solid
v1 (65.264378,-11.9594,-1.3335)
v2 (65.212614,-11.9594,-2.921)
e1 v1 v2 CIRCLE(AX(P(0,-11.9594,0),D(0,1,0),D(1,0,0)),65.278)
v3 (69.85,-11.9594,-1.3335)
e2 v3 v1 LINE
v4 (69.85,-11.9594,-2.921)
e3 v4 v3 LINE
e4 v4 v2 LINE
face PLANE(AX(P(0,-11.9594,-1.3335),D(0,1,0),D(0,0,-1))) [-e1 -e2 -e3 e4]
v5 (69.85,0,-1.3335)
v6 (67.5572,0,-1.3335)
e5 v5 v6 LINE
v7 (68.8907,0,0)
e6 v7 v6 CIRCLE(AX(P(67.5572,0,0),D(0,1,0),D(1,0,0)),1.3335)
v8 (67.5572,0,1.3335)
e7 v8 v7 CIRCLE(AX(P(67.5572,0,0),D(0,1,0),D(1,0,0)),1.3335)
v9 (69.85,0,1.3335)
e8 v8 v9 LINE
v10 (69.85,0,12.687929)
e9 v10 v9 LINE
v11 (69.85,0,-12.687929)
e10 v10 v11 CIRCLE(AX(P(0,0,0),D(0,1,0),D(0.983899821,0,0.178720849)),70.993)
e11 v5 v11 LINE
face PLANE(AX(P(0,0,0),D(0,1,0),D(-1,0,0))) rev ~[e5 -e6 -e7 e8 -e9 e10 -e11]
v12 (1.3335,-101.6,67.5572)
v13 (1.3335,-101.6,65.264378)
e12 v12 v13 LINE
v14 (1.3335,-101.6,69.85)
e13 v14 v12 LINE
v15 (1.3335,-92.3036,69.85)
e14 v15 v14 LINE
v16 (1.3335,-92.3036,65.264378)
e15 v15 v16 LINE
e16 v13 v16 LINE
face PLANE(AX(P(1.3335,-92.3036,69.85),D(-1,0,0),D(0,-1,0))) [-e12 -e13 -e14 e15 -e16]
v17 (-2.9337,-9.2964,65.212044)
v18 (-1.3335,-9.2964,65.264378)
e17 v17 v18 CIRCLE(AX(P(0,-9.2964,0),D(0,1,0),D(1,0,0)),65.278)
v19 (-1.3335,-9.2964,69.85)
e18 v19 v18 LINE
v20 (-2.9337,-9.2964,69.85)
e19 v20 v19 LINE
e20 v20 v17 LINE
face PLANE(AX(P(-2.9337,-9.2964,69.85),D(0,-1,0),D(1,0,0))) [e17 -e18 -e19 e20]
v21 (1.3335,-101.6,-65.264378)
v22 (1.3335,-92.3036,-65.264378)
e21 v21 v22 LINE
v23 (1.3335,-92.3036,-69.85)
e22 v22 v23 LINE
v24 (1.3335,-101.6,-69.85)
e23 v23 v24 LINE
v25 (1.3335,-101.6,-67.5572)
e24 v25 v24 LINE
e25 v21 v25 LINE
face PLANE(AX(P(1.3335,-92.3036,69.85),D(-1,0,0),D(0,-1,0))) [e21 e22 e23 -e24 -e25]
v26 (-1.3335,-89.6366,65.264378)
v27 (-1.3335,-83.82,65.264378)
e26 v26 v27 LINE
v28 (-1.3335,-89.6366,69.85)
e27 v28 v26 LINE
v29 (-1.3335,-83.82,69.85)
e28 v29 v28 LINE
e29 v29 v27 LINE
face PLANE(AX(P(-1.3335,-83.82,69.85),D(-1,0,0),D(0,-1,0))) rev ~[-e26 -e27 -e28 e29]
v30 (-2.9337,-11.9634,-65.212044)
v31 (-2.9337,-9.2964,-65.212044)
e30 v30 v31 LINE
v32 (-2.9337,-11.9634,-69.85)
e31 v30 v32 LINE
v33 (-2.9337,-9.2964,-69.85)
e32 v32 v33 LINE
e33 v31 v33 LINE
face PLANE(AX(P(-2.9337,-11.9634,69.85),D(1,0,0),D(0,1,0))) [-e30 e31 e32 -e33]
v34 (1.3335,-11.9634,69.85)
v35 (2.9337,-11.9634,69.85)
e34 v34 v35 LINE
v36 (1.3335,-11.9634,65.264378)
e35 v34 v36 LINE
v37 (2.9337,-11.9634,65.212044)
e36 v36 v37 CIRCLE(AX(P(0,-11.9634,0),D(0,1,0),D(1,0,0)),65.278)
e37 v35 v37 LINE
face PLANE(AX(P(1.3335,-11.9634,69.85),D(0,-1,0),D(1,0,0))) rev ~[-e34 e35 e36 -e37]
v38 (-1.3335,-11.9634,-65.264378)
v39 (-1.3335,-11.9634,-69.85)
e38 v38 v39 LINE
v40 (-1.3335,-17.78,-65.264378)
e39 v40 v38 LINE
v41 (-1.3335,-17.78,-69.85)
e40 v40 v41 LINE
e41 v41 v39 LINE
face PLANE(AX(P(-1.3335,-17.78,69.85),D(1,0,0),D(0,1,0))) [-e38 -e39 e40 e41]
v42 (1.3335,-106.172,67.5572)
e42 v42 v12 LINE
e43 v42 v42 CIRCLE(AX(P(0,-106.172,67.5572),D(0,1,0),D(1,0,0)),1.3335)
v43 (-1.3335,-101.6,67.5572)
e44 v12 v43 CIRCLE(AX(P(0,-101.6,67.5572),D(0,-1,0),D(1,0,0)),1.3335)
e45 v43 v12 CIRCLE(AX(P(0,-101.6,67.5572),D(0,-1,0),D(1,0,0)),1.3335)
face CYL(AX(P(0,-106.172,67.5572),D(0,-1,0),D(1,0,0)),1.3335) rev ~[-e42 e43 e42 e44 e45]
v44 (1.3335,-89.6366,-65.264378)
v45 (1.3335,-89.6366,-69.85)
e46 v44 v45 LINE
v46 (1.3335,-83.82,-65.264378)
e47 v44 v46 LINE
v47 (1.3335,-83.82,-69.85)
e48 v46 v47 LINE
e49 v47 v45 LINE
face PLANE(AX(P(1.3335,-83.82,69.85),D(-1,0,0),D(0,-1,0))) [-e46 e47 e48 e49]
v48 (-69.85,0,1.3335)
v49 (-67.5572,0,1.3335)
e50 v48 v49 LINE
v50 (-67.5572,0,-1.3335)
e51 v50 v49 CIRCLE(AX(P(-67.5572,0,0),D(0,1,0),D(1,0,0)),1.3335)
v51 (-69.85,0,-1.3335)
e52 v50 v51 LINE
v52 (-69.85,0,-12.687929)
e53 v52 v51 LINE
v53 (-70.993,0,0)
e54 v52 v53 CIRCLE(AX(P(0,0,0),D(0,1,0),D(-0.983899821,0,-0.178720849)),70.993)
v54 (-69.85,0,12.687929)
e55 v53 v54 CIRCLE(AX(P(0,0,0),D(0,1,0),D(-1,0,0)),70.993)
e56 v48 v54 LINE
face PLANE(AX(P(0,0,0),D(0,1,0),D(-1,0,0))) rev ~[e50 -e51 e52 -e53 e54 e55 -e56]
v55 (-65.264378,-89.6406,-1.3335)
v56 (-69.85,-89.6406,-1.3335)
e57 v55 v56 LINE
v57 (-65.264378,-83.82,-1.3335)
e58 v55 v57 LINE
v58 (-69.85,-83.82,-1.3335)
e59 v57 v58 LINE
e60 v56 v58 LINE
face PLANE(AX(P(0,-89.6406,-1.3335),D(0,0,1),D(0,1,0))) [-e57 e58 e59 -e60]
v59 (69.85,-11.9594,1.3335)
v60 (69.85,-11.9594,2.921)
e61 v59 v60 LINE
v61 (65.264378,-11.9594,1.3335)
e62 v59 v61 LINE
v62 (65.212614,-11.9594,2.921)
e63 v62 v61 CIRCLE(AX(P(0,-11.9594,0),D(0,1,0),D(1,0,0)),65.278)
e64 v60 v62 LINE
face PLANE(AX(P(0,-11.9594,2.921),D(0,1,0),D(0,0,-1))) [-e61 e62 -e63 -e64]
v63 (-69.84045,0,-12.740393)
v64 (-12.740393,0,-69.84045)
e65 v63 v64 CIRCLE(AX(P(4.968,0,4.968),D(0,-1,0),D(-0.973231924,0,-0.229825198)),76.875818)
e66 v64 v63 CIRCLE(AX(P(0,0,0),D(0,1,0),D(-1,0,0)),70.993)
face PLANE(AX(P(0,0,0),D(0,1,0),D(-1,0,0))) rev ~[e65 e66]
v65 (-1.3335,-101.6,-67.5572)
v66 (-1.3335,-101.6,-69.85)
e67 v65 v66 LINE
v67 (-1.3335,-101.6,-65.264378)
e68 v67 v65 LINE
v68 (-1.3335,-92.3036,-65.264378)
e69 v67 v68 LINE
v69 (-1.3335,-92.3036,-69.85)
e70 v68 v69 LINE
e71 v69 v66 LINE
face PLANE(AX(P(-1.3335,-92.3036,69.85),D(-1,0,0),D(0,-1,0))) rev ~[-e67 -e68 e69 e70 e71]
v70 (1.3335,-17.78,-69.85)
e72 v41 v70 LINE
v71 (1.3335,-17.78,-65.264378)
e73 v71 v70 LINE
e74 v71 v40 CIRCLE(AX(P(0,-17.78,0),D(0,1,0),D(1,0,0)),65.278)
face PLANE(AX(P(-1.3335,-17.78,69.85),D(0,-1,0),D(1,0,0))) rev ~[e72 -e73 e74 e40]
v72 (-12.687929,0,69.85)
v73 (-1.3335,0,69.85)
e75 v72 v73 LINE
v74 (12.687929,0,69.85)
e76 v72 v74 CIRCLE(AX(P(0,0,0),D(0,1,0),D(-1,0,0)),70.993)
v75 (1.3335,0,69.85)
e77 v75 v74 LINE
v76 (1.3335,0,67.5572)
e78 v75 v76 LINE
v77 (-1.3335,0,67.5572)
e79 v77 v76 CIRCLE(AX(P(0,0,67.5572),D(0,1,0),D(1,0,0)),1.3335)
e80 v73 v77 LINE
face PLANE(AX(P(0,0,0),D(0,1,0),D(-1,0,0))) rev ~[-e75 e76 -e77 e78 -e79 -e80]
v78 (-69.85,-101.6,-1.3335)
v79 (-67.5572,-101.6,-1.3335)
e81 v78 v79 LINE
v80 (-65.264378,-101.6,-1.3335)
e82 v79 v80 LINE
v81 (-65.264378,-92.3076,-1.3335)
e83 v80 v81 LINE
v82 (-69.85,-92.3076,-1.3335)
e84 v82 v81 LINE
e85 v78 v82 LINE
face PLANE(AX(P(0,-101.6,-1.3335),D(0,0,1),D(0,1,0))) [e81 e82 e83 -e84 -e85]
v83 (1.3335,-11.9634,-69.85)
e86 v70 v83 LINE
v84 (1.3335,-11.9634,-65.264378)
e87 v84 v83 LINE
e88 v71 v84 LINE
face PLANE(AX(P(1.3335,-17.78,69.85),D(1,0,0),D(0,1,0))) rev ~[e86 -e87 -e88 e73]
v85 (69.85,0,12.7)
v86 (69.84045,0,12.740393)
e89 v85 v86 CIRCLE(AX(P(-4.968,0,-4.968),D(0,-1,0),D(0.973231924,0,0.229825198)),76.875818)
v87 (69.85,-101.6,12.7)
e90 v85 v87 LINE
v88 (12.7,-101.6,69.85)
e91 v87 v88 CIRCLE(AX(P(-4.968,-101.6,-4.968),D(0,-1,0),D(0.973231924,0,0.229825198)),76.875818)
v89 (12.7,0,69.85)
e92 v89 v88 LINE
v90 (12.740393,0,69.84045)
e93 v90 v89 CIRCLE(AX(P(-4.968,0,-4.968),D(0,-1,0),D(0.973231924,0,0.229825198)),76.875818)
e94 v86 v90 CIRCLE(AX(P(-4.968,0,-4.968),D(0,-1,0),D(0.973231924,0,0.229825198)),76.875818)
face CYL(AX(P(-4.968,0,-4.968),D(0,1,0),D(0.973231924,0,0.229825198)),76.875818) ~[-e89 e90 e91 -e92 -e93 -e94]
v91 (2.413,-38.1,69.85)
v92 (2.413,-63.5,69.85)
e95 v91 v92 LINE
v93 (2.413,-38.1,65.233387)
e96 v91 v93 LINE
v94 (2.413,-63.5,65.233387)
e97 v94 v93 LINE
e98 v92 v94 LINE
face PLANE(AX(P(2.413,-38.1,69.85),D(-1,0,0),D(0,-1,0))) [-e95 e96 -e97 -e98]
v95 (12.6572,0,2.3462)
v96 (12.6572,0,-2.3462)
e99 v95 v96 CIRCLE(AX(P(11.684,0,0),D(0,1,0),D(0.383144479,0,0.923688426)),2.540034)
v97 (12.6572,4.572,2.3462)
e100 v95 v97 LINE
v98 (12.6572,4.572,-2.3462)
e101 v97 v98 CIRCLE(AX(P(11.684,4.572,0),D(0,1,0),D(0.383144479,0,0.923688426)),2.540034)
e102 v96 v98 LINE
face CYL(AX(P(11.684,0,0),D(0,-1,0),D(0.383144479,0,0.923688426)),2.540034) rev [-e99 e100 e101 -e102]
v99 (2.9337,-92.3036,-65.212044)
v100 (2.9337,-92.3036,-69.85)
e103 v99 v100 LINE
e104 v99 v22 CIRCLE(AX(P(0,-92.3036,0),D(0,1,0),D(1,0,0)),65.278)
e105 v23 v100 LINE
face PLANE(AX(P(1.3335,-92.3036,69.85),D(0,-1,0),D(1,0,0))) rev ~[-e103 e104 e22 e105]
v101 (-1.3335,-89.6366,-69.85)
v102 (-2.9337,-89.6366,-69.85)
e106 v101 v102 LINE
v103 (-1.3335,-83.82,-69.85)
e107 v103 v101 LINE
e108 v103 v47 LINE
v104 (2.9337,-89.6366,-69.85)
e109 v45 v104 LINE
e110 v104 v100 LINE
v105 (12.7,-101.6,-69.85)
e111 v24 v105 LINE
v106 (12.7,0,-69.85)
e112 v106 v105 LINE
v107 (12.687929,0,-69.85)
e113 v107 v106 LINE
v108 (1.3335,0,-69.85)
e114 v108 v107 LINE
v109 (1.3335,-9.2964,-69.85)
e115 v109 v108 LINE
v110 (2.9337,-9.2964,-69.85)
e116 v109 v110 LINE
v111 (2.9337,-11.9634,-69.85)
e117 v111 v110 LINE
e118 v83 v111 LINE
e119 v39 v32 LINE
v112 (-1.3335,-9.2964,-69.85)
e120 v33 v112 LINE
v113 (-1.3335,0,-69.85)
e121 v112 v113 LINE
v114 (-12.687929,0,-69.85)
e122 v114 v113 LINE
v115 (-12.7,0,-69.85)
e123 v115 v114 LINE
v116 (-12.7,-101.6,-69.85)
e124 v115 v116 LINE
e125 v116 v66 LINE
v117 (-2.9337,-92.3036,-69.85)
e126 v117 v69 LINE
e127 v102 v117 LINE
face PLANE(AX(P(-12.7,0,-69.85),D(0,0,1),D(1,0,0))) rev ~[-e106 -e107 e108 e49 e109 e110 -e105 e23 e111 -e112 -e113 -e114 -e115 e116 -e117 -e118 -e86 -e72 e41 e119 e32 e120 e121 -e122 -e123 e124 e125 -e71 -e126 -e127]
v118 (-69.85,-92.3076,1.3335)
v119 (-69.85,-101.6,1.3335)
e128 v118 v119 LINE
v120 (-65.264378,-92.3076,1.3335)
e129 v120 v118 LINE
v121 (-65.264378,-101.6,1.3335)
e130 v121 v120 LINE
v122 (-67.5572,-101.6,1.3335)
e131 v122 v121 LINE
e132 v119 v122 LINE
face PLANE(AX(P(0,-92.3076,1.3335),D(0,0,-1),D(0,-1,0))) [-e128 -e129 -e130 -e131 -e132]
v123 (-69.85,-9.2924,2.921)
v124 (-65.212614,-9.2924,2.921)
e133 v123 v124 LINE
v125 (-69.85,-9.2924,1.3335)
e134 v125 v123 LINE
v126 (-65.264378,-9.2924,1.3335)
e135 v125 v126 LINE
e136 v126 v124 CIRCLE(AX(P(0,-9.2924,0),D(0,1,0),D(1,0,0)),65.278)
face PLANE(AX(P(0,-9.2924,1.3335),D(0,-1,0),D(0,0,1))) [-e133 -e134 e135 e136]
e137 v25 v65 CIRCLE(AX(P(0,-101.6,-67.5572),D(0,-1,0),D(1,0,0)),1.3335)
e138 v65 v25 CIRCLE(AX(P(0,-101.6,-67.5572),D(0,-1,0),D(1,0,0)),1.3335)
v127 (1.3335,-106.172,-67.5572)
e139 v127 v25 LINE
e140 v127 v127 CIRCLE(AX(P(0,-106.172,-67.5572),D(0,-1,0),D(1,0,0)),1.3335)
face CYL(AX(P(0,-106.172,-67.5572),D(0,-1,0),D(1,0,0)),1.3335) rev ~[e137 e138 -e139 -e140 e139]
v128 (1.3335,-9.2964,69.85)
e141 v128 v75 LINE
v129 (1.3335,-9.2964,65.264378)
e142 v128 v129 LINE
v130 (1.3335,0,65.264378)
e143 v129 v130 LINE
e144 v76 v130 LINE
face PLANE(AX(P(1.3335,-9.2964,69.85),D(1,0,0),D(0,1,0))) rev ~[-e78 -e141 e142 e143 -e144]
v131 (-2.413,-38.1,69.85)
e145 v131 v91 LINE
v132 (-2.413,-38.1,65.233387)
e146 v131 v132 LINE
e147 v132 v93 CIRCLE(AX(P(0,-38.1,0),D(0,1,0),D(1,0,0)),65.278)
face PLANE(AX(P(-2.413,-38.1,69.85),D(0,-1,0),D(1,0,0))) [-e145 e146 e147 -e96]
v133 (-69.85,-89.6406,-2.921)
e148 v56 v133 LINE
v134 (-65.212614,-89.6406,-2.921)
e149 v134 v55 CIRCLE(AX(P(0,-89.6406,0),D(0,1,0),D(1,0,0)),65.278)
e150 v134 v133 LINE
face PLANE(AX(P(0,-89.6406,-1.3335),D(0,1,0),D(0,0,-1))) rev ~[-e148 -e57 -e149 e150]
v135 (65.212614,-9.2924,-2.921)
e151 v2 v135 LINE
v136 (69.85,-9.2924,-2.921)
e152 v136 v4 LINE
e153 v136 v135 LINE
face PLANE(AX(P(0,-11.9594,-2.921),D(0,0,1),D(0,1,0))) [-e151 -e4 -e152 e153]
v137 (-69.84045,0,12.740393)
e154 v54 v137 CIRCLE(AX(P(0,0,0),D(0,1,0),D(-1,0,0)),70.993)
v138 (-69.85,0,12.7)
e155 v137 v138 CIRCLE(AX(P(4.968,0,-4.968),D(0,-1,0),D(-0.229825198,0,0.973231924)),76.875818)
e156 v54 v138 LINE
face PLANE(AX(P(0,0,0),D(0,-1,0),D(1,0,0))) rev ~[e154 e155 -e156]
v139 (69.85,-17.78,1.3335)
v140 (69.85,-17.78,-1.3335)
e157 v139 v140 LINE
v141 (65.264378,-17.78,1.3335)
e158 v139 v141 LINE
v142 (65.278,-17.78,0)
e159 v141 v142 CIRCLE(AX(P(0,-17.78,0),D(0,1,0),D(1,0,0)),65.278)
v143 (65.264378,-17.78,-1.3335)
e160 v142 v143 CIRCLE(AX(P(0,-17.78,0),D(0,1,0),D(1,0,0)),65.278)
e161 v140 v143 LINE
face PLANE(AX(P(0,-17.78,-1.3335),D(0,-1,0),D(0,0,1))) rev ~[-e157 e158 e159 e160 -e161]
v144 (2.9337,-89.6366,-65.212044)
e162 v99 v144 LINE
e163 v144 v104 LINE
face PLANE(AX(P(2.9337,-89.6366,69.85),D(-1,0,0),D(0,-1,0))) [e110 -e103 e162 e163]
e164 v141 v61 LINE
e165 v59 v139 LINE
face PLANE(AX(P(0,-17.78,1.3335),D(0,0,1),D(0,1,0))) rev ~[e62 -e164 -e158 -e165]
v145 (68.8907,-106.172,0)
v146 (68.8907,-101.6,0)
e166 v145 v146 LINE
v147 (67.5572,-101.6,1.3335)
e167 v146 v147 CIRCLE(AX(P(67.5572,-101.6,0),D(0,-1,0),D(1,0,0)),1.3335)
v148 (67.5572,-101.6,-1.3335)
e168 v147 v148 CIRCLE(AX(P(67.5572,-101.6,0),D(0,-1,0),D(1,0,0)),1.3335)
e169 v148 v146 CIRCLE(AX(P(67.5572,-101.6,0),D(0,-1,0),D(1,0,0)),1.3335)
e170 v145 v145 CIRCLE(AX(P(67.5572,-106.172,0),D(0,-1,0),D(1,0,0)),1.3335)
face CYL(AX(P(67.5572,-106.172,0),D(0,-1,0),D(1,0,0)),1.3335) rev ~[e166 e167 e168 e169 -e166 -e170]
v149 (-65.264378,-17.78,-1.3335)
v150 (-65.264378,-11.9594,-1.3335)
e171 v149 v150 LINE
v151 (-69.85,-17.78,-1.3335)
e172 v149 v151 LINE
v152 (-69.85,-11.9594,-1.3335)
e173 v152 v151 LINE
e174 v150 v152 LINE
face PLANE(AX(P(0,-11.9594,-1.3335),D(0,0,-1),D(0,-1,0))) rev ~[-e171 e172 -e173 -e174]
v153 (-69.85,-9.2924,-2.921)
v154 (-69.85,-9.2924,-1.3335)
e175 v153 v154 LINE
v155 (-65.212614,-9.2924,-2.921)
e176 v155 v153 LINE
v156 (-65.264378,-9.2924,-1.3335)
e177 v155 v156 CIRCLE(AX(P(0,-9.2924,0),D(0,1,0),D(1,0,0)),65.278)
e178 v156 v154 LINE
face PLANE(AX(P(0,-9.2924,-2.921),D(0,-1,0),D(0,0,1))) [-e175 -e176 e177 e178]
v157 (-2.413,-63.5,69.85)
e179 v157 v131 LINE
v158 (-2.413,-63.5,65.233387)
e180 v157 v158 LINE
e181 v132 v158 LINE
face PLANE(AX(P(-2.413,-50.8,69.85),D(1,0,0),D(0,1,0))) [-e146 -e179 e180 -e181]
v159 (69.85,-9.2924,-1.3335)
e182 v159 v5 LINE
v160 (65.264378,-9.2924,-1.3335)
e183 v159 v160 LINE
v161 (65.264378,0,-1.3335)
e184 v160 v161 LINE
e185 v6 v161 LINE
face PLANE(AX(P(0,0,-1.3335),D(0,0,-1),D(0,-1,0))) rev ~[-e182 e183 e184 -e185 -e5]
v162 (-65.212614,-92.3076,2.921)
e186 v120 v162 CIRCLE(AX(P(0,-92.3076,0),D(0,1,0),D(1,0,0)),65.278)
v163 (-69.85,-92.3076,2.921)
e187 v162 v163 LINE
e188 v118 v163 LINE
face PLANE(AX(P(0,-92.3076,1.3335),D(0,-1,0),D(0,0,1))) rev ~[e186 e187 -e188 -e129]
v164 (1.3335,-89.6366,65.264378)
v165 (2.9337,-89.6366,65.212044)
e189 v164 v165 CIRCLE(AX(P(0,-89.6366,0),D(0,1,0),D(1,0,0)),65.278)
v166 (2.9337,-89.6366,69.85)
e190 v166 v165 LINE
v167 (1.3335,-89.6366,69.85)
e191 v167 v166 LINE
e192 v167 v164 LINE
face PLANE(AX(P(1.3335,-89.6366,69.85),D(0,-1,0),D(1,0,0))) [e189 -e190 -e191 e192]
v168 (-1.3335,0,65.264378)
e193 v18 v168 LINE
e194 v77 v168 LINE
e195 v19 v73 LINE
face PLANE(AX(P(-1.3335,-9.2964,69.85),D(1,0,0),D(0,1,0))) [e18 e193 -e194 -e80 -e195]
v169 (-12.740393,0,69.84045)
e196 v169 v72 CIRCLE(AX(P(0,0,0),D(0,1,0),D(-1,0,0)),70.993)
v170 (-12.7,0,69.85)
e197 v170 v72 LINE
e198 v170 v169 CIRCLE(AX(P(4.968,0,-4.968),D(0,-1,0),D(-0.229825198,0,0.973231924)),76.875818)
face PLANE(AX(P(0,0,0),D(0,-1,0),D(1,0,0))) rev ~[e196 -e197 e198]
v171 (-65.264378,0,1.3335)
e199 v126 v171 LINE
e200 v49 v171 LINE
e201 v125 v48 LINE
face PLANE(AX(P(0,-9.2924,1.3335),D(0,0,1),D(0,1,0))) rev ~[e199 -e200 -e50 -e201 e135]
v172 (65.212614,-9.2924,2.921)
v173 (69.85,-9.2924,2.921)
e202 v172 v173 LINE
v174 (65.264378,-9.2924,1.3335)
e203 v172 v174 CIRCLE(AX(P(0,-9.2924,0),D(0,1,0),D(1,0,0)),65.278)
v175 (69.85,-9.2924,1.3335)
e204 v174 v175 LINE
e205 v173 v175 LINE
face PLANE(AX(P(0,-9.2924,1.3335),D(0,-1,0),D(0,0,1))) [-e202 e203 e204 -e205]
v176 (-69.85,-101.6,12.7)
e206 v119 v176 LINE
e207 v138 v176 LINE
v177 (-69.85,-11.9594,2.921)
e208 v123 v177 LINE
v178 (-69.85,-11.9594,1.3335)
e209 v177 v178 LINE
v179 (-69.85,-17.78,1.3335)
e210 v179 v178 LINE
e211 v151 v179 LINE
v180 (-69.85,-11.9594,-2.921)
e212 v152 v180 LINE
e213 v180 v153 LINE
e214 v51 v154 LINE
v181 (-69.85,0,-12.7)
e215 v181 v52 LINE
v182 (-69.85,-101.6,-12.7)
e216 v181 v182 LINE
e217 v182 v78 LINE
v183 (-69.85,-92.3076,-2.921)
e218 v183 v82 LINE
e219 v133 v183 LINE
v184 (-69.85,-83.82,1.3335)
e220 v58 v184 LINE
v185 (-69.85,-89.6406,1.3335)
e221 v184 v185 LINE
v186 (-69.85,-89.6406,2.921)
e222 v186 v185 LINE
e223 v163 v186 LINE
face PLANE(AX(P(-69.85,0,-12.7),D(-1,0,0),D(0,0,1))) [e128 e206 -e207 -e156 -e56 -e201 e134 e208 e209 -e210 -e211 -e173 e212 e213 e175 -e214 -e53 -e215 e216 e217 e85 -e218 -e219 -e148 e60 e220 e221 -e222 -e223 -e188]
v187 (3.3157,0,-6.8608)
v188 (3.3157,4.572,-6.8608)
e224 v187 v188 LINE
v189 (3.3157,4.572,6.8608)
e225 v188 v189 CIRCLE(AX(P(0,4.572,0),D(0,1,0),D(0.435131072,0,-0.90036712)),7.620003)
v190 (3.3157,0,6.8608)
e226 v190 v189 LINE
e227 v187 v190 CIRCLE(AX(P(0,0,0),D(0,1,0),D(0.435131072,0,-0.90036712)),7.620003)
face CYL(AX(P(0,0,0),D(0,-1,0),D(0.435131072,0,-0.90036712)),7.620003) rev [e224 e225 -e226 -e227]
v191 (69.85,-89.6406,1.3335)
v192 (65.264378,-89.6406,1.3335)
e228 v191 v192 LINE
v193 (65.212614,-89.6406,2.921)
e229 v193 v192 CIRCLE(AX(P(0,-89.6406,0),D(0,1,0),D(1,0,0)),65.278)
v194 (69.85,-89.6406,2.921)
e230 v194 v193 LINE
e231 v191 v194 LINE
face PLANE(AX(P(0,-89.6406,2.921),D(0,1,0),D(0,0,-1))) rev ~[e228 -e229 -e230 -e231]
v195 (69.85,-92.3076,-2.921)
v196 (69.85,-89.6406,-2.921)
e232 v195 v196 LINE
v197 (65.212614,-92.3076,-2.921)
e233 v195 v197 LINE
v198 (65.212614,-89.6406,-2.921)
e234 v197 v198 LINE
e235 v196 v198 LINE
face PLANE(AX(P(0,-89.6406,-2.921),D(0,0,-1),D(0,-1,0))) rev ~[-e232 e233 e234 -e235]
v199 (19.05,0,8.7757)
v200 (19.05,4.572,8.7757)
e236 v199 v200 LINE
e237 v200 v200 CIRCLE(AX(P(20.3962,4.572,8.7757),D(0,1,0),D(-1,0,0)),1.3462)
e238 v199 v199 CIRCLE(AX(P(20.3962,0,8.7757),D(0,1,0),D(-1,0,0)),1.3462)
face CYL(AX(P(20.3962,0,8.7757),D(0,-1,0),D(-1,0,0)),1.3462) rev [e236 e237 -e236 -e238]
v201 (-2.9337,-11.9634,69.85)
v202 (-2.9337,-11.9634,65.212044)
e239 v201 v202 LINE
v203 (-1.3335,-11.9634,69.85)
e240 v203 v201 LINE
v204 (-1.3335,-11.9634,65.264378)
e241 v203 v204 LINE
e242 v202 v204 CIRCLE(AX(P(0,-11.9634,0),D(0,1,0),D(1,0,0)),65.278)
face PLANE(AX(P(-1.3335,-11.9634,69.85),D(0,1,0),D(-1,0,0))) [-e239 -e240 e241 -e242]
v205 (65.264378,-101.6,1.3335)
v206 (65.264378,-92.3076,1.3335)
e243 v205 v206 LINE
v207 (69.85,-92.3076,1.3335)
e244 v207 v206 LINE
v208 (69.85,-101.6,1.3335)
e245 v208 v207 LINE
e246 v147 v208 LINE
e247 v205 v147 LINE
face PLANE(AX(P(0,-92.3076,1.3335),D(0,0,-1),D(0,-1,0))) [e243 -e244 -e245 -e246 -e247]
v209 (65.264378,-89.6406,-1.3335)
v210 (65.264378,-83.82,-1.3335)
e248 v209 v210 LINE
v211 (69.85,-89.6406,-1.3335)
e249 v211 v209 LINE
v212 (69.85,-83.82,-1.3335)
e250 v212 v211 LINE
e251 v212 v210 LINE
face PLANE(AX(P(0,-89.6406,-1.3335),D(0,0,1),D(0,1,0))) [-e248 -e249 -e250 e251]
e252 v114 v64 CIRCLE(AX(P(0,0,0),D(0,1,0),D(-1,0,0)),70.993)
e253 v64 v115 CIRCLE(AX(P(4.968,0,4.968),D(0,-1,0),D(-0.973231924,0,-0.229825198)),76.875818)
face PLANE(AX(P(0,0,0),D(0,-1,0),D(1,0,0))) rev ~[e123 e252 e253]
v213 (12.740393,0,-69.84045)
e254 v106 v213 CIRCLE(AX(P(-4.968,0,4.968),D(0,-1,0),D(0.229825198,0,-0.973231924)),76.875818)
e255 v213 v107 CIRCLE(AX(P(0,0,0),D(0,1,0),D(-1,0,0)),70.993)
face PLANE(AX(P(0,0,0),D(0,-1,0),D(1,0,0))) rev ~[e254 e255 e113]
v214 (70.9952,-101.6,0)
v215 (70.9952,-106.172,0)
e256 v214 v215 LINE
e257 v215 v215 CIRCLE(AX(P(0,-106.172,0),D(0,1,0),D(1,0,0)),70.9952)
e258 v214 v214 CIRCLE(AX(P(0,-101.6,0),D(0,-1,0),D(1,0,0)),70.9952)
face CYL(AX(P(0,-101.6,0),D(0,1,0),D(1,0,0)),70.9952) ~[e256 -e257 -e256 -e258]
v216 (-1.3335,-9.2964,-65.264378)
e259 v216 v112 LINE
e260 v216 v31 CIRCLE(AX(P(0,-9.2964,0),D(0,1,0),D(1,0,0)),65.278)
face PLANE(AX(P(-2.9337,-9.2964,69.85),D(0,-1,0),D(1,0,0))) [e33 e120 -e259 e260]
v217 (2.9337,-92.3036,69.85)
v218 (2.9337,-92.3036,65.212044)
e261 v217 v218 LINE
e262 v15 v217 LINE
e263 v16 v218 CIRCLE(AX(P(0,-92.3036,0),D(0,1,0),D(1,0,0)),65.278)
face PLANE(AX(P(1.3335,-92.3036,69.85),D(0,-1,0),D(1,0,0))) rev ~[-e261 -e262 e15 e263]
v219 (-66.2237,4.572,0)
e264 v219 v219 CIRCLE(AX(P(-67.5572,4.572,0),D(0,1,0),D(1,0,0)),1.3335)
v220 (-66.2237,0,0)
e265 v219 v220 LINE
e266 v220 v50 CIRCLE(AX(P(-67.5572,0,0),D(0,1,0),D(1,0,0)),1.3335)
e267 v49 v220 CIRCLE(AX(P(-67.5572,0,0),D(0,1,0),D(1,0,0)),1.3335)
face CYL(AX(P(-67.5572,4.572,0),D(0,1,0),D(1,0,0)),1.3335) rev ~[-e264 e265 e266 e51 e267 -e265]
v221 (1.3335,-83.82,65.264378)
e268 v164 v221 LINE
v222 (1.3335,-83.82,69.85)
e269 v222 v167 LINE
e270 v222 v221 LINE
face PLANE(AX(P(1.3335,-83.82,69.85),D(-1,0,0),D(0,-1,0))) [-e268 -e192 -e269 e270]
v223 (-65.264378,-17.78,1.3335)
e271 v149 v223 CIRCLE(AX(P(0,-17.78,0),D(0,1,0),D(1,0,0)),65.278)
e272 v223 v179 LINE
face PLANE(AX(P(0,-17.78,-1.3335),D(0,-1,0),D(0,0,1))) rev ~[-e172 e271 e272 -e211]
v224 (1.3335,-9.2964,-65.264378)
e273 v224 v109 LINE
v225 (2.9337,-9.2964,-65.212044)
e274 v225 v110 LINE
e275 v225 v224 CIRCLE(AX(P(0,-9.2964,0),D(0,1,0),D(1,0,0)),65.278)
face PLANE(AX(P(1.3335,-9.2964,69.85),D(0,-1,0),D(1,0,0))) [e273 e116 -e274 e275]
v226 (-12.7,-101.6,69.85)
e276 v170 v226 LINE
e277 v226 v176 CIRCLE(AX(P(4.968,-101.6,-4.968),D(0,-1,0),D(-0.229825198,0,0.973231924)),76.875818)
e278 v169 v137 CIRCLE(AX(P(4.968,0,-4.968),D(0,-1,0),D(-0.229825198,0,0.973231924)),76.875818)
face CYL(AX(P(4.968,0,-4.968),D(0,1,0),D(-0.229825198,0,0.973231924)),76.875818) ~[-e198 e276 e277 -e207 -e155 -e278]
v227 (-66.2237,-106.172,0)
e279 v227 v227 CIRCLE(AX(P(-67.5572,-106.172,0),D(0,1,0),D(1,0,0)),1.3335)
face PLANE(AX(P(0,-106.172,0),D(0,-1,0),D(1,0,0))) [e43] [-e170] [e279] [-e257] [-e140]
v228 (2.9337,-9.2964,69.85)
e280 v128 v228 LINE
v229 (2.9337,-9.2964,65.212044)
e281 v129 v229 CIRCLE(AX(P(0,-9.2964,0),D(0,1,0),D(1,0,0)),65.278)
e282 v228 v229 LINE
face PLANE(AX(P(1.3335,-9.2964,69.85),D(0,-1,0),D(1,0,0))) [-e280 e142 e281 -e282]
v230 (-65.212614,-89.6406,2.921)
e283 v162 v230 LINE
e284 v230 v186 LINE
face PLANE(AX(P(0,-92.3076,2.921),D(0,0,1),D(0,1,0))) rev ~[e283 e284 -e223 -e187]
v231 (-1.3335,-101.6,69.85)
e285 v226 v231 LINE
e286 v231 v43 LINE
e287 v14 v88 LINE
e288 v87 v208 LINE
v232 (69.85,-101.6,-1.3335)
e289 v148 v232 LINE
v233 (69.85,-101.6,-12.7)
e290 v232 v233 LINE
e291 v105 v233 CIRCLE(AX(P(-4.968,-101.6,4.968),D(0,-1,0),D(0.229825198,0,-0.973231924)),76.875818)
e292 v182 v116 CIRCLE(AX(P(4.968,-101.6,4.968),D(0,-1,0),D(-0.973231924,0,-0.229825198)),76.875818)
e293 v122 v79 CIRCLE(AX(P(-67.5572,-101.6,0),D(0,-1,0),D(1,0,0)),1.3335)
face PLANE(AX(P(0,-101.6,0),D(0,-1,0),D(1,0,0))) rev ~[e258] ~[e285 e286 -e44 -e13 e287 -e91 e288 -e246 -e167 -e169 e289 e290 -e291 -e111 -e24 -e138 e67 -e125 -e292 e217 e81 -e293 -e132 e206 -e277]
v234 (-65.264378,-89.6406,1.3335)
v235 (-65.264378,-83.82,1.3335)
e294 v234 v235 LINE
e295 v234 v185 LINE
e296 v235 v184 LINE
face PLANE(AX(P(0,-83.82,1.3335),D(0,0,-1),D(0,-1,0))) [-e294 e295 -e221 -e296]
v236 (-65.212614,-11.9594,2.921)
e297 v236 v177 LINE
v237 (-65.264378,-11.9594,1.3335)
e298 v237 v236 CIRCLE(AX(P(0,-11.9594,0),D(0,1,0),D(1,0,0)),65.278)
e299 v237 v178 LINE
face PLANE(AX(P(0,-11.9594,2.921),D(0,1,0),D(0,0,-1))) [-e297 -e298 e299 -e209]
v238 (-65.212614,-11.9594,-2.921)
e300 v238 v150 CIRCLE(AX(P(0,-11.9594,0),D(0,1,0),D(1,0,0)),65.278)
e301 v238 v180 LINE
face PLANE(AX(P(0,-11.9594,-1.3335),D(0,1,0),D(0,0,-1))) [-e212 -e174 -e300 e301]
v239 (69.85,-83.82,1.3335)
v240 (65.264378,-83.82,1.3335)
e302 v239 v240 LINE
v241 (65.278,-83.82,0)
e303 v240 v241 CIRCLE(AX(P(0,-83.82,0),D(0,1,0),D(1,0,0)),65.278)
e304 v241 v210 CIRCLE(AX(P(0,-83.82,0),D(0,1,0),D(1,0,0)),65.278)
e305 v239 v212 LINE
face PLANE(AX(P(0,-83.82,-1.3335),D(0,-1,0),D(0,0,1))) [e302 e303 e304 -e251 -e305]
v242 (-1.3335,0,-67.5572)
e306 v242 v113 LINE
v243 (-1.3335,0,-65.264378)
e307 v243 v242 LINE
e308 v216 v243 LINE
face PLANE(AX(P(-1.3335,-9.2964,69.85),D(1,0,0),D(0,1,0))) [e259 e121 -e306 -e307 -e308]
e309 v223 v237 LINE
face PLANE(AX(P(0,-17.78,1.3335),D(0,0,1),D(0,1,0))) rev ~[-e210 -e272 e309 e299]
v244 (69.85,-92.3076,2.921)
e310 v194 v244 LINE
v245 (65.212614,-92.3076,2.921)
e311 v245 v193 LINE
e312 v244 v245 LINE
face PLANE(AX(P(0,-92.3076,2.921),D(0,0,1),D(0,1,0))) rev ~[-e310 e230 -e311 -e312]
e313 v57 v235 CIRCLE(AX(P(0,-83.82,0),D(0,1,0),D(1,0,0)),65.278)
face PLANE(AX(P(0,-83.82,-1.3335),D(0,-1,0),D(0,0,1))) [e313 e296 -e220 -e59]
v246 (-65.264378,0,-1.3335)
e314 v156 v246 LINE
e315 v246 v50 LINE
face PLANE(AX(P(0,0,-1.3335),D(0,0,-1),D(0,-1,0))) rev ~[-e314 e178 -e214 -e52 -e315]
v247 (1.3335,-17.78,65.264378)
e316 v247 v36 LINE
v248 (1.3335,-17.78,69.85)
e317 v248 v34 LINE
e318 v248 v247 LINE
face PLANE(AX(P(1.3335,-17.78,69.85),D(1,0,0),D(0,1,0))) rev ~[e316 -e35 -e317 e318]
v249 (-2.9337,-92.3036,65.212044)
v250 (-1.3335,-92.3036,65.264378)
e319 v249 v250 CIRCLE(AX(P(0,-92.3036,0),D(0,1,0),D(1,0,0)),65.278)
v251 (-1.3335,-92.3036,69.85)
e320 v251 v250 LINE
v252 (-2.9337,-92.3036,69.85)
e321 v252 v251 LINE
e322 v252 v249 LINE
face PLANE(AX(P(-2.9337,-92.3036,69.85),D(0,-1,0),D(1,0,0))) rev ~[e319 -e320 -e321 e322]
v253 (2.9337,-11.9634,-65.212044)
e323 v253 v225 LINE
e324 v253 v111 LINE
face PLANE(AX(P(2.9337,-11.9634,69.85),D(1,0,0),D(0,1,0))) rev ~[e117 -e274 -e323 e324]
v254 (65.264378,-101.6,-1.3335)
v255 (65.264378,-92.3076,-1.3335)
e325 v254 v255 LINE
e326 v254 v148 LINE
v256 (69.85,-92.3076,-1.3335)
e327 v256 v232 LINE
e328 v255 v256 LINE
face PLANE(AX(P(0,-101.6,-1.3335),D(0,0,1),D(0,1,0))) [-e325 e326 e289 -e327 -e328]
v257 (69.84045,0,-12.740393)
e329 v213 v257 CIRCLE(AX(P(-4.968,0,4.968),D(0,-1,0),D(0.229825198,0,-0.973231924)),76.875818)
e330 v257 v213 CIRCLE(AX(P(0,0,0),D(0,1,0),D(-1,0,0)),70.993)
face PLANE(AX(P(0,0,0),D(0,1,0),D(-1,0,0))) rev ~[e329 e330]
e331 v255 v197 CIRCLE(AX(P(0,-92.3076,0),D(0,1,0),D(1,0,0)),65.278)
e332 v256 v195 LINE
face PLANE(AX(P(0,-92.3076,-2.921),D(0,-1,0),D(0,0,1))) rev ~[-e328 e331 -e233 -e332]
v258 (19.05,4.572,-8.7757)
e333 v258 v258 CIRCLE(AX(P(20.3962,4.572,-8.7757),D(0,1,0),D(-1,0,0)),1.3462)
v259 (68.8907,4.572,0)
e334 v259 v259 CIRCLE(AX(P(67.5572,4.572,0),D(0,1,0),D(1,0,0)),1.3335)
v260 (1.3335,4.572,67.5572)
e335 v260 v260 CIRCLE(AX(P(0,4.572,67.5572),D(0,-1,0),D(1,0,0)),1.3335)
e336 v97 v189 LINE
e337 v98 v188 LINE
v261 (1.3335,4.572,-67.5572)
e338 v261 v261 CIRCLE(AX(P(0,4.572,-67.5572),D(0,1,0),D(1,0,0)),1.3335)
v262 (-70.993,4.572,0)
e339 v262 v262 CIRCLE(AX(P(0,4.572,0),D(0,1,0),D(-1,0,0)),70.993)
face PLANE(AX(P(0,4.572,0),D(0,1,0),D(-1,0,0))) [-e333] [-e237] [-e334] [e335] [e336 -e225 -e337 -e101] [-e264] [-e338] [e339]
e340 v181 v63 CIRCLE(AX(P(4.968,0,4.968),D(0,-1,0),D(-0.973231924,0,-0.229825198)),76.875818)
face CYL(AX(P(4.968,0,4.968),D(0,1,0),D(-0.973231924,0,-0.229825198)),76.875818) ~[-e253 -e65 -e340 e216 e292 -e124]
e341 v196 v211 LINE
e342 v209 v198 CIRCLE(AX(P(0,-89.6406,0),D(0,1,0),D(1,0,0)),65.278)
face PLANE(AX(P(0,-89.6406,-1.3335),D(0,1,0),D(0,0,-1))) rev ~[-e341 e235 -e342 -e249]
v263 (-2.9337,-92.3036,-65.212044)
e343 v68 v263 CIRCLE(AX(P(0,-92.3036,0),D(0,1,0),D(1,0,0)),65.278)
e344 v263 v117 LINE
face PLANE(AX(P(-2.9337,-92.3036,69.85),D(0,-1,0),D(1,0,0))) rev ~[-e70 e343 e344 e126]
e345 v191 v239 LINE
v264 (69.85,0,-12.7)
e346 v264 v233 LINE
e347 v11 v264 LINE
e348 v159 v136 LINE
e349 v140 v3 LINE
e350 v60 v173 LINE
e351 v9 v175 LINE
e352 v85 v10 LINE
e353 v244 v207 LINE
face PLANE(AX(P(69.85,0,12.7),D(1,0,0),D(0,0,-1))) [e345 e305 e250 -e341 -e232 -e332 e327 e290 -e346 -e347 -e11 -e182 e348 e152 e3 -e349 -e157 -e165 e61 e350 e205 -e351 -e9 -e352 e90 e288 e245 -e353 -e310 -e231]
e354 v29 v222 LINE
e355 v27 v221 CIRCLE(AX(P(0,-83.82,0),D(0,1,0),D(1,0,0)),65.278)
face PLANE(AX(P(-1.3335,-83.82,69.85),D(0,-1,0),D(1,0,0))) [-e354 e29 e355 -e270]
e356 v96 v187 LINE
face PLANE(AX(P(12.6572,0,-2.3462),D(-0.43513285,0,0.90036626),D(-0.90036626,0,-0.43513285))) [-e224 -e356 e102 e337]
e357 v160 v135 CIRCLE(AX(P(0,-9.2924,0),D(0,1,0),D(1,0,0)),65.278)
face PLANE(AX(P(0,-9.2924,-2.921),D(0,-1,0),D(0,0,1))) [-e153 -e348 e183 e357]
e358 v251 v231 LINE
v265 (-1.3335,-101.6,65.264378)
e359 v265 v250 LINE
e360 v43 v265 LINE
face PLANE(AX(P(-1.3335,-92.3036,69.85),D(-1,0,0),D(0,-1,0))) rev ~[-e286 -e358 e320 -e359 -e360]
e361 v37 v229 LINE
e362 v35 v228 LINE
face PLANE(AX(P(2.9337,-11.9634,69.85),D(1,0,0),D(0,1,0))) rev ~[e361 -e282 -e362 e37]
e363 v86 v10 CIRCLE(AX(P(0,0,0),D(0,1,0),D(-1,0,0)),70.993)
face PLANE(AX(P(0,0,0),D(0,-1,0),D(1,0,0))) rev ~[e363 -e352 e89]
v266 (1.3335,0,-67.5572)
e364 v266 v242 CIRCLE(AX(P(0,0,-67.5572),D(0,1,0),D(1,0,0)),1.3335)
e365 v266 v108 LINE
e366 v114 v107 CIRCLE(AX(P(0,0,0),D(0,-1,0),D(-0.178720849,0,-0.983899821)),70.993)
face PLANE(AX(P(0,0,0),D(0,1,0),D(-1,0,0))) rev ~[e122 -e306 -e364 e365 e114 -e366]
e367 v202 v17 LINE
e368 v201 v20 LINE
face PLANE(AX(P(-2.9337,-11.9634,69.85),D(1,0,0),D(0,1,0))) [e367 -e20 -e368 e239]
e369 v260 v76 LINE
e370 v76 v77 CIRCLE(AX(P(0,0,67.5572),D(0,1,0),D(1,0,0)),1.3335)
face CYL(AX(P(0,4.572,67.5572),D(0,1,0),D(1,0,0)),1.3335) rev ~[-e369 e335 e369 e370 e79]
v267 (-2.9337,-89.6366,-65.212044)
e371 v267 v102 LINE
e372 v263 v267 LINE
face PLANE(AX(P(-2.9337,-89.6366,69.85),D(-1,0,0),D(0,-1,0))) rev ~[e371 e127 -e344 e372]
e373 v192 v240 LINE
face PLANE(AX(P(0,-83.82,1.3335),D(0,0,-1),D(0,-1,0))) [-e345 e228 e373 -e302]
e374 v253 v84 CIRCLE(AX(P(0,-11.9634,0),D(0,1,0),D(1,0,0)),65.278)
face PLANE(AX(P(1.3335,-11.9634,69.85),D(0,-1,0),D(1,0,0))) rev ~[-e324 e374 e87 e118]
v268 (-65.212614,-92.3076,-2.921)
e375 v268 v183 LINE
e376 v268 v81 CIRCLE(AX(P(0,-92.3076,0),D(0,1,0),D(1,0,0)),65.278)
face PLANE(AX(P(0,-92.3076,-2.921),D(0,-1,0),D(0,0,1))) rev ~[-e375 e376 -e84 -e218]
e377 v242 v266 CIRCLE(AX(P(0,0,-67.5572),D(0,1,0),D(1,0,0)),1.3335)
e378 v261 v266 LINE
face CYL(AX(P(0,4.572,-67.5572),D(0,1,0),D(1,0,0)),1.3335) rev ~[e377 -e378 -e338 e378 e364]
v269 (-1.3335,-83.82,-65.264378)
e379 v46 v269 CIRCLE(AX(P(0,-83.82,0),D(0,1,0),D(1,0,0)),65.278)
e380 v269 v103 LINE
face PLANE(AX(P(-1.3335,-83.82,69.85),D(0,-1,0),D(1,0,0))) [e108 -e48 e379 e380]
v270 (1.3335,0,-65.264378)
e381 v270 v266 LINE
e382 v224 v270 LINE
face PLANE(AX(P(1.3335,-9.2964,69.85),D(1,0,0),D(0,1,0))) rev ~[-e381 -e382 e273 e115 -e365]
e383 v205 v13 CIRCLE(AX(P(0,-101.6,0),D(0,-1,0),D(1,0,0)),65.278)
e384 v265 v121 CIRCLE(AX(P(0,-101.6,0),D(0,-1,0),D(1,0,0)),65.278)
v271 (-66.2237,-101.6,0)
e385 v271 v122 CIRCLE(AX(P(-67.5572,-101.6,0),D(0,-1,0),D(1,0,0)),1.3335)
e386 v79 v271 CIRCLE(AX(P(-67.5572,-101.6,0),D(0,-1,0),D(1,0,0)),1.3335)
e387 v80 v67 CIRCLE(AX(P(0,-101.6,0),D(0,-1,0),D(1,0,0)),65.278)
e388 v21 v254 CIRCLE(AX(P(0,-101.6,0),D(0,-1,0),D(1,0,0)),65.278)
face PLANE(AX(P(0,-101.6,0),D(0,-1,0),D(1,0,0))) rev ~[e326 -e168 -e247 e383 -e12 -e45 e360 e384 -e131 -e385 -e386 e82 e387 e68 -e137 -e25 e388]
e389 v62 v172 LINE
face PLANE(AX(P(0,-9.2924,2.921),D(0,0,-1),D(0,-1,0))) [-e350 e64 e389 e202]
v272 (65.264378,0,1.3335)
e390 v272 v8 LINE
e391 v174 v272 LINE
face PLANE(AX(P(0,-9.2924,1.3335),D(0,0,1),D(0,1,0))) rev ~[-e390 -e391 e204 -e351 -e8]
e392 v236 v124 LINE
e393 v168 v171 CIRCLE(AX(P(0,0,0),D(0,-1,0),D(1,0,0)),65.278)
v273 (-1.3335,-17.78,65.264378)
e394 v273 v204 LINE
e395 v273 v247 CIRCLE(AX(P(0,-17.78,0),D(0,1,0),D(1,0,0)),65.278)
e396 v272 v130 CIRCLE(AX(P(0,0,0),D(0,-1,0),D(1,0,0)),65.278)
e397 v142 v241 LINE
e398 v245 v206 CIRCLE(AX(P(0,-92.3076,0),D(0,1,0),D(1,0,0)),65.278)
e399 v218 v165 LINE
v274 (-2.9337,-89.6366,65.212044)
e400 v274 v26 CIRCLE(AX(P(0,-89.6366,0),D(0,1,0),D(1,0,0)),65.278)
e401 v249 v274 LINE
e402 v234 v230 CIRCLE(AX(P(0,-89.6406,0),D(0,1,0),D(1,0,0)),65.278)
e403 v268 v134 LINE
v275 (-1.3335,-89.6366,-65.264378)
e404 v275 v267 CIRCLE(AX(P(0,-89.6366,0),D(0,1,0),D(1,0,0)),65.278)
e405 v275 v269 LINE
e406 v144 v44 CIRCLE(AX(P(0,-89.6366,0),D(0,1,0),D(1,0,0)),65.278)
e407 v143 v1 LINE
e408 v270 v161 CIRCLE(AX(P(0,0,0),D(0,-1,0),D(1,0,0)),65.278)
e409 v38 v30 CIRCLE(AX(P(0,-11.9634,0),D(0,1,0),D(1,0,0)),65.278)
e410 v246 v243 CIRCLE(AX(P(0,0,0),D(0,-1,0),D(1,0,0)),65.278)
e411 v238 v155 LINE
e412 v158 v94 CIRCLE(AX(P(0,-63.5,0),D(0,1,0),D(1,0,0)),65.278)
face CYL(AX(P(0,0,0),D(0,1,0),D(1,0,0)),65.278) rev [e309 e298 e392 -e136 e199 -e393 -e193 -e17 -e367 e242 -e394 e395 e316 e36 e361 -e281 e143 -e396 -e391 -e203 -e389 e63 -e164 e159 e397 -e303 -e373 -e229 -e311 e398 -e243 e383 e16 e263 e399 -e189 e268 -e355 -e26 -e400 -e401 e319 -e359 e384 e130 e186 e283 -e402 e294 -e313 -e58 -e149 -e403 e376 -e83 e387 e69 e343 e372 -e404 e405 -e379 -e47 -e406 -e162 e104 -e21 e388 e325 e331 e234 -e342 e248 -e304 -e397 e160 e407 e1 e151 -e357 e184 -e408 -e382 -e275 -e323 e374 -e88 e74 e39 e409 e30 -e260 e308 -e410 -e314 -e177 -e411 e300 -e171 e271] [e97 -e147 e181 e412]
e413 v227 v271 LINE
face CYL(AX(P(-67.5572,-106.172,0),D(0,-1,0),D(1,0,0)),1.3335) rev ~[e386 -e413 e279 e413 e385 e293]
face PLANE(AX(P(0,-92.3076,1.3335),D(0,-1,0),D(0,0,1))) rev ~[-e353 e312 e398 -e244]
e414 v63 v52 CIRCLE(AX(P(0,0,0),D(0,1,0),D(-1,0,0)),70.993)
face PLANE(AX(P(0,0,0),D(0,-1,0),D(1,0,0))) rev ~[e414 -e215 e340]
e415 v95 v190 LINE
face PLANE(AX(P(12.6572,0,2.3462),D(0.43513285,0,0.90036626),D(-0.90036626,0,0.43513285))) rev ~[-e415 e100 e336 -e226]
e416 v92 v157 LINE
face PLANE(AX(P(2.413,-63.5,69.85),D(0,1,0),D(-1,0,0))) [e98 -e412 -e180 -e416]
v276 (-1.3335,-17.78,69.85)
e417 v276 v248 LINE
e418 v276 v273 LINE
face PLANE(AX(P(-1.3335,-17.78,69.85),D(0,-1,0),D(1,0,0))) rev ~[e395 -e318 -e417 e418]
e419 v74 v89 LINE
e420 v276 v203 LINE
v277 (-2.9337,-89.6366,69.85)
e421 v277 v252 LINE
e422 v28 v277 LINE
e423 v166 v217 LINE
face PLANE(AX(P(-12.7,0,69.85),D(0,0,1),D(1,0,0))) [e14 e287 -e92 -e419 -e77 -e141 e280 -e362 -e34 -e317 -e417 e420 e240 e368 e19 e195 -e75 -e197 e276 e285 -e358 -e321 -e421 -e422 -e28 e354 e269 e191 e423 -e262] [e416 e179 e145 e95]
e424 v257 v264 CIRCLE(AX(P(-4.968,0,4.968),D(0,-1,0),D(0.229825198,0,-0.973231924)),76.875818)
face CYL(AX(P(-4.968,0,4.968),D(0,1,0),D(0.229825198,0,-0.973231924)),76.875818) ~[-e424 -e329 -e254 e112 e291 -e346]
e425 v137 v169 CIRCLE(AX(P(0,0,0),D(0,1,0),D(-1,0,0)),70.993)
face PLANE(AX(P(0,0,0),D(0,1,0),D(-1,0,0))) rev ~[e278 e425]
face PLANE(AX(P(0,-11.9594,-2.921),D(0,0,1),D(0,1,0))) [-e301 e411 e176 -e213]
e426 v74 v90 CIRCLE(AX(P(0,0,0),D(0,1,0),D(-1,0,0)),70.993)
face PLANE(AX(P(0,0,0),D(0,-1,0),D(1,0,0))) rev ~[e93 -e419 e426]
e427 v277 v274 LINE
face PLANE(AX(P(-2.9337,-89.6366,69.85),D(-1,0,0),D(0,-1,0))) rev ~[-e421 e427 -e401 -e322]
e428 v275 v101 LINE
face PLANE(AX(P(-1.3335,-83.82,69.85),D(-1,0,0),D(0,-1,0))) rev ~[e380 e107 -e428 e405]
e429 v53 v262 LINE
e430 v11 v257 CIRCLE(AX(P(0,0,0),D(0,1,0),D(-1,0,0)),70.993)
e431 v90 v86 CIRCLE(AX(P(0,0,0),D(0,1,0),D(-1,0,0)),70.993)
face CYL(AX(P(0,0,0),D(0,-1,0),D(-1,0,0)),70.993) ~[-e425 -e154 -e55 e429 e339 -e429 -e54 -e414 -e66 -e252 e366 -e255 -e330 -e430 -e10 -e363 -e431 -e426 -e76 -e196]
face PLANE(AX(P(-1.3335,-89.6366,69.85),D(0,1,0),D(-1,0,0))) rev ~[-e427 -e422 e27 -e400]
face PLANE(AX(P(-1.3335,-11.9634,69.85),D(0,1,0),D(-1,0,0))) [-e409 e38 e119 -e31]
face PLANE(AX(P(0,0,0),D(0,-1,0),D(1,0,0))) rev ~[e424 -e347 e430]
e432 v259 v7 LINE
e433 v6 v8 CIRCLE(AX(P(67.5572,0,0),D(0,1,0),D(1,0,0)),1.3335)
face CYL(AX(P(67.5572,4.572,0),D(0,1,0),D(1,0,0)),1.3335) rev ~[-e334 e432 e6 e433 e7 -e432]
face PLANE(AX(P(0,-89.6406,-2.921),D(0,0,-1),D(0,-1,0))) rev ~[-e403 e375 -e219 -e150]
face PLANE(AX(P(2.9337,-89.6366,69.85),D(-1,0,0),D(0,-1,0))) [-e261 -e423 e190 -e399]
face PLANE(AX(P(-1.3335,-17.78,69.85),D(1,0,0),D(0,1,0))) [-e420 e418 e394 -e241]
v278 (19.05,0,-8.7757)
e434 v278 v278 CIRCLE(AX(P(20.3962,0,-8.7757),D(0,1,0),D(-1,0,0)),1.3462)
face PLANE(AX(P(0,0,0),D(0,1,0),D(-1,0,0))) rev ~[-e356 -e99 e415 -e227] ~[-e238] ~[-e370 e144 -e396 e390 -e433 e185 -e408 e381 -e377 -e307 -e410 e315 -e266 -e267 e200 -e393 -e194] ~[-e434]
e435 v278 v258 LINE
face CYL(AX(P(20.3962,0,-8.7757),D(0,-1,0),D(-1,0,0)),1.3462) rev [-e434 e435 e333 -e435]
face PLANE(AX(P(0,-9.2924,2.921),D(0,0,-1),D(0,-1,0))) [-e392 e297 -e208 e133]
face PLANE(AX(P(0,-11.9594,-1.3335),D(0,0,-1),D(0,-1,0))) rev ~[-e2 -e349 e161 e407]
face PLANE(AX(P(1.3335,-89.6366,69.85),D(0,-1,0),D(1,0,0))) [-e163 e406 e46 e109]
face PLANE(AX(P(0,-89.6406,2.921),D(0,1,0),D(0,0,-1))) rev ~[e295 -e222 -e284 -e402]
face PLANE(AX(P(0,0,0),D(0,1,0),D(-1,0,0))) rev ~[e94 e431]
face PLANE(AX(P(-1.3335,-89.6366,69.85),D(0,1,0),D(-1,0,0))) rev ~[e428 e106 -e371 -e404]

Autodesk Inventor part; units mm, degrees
ref_plane "YZ Plane" through (0, 0, 0) normal (1, 0, 0) x (0, 1, 0)
ref_plane "XZ Plane" through (0, 0, 0) normal (0, 1, 0) x (-1, 0, 0)
ref_plane "XY Plane" through (0, 0, 0) normal (0, 0, 1) x (1, 0, 0)
sketch "Sketch1" plane through (0, 0, 0) normal (0, 1, 0) x (-1, 0, 0)
  circle A0 centre (0, 0) radius 70.993
  circle A1 centre (0, 0) radius 6.35 construction
  line L0 (0, 6.35) -> (-19.05, 6.35) construction
  circle A2 centre (-11.684, 0) radius 1.905 construction
  line L1 (-11.684, 0) -> (-19.05, 0) construction
  line L2 (-19.05, 0) -> (-20.3962, 0) construction
  line L3 (-20.3962, 0) -> (-20.3962, 7.4295) construction
  line L4 (-20.3962, 0) -> (-20.3962, -7.4295) construction
  line L5 (-20.3962, 7.4295) -> (-20.3962, 8.7757) construction
  circle A3 centre (-20.3962, 8.7757) radius 1.3462
  line L6 (-20.3962, -7.4295) -> (-20.3962, -8.7757) construction
  circle A4 centre (-20.3962, -8.7757) radius 1.3462
  arc A5 (-3.3157, -6.8608) -> (-3.3157, 6.8608) centre (0, 0) ccw
  arc A6 (-12.6572, 2.3462) -> (-12.6572, -2.3462) centre (-11.684, 0) ccw
  line L7 (-12.6572, 2.3462) -> (-3.3157, 6.8608)
  line L8 (-12.6572, -2.3462) -> (-3.3157, -6.8608)
  dimension "d1" = 12.7
  dimension "d0" = 141.986
  dimension "d2" = 19.05
  dimension "d3" = 3.429
  dimension "d4" = 3.81
  dimension "d5" = 1.3462
  dimension "d6" = 7.4295
  dimension "d7" = 7.4295
  dimension "d8" = 1.3462
  dimension "d9" = 1.3462
  dimension "d10" = 15.24
  dimension "d11" = 5.08
  dimension "d13" = 20.3962
  dimension "d14" = 51.588
  dimension "d15" = 7.8102
  dimension "d16" = 9.1564
  dimension "d17" = 0.6309
  dimension "d92" = 63.373
extrude "Extrusion1" add sketch "Sketch1" along normal blind 4.572
sketch "Sketch2" plane through (0, 0, 0) normal (0, -1, 0) x (1, 0, 0)
  arc A0 (3.3157, 6.8608) -> (3.3157, -6.8608) centre (0, 0) ccw projected
  circle A1 centre (0, 0) radius 69.85 construction
  circle A2 centre (0, 0) radius 65.278
  line L0 (-69.85, 0) -> (-57.15, 0) construction
  line L1 (-69.85, 0) -> (-57.15, 0) construction
  line L2 (0, 69.85) -> (12.7, 69.85) construction
  line L3 (69.85, 0) -> (82.55, 0) construction
  line L4 (69.85, 0) -> (82.55, 0) construction
  line L5 (12.7, -69.85) -> (69.85, -12.7) construction
  line L6 (41.275, -41.275) -> (59.2355, -59.2355) construction
  line L7 (41.275, -41.275) -> (66.675, -41.275) construction
  arc A3 (12.7, -69.85) -> (69.85, -12.7) centre (-4.968, 4.968) ccw
  line L8 (-12.7, -69.85) -> (-69.85, -12.7) construction
  line L9 (-41.275, -41.275) -> (-59.2355, -59.2355) construction
  line L10 (-41.275, -41.275) -> (-15.875, -41.275) construction
  arc A4 (-69.85, -12.7) -> (-12.7, -69.85) centre (4.968, 4.968) ccw
  line L11 (-69.85, 12.7) -> (-12.7, 69.85) construction
  line L12 (12.7, 69.85) -> (69.85, 12.7) construction
  line L13 (-41.275, 41.275) -> (-59.2355, 59.2355) construction
  line L14 (41.275, 41.275) -> (59.2355, 59.2355) construction
  arc A5 (-12.7, 69.85) -> (-69.85, 12.7) centre (4.968, -4.968) ccw
  arc A6 (69.85, 12.7) -> (12.7, 69.85) centre (-4.968, -4.968) ccw
  line L15 (-69.85, -12.7) -> (-69.85, 12.7)
  line L16 (-12.7, 69.85) -> (12.7, 69.85)
  line L17 (69.85, 12.7) -> (69.85, -12.7)
  line L18 (-12.7, -69.85) -> (12.7, -69.85)
  dimension "d20" = 139.7
  dimension "d21" = 130.556
  dimension "d47" = 12.7
  dimension "d49" = 12.7
  dimension "d53" = 12.7
  dimension "d58" = 12.7
  dimension "d60" = 12.7
  dimension "d62" = 25.4
  dimension "d63" = 45
  dimension "d64" = 25.4
  dimension "d65" = 135
  dimension "d66" = 25.4
  dimension "d67" = 90
  dimension "d68" = 25.4
  dimension "d69" = 90
  dimension "d70" = 76.8758
  dimension "d71" = 76.8758
  dimension "d72" = 76.8758
  dimension "d73" = 76.8758
  dimension "d74" = 4.968
  dimension "d75" = 25.4
  dimension "d76" = 74.818
  dimension "d77" = 25.4
  dimension "d78" = 74.818
  dimension "d79" = 25.4
  dimension "d80" = 74.818
  dimension "d81" = 74.818
  dimension "d82" = 25.4
  dimension "d83" = 74.818
  dimension "d84" = 74.818
extrude "Extrusion7" add sketch "Sketch2" along normal blind 101.6
sketch "Sketch4" plane through (0, 0, 0) normal (1, 0, 0) x (0, 1, 0)
  line L0 (0, 1.3335) -> (0, -1.3335)
  line L1 (-17.78, -1.3335) -> (-17.78, 1.3335)
  line L2 (-11.9594, -2.921) -> (-9.2924, -2.921)
  line L3 (-9.2924, 2.921) -> (-11.9594, 2.921)
  line L4 (-9.2924, -2.921) -> (-9.2924, -1.3335)
  line L5 (-9.2924, 1.3335) -> (-9.2924, 2.921)
  line L6 (-17.78, 1.3335) -> (-11.9594, 1.3335)
  line L7 (-9.2924, 1.3335) -> (0, 1.3335)
  line L8 (0, -1.3335) -> (-9.2924, -1.3335)
  line L9 (-11.9594, -1.3335) -> (-17.78, -1.3335)
  line L10 (-11.9594, 2.921) -> (-11.9594, 1.3335)
  line L11 (-11.9594, -1.3335) -> (-11.9594, -2.921)
  line L12 (0, 65.278) -> (-101.6, 65.278) projected
  line L13 (-50.8, 65.278) -> (-50.8, -65.278)
  line L14 (0, -65.278) -> (-101.6, -65.278) projected
  line L15 (-101.6, 1.3335) -> (-101.6, -1.3335)
  line L16 (-83.82, -1.3335) -> (-83.82, 1.3335)
  line L17 (-89.6406, -2.921) -> (-92.3076, -2.921)
  line L18 (-92.3076, 2.921) -> (-89.6406, 2.921)
  line L19 (-92.3076, -2.921) -> (-92.3076, -1.3335)
  line L20 (-92.3076, 1.3335) -> (-92.3076, 2.921)
  line L21 (-83.82, 1.3335) -> (-89.6406, 1.3335)
  line L22 (-92.3076, 1.3335) -> (-101.6, 1.3335)
  line L23 (-101.6, -1.3335) -> (-92.3076, -1.3335)
  line L24 (-89.6406, -1.3335) -> (-83.82, -1.3335)
  line L25 (-89.6406, 2.921) -> (-89.6406, 1.3335)
  line L26 (-89.6406, -1.3335) -> (-89.6406, -2.921)
  point P0 (0, 0)
  point P1 (-101.6, 0)
  dimension "d29" = 2.667
  dimension "d30" = 5.842
  dimension "d31" = 2.667
  dimension "d32" = 5.842
  dimension "d33" = 1.5875
  dimension "d34" = 1.5875
  dimension "d35" = 1.5875
  dimension "d36" = 5.8206
  dimension "d37" = 2.667
  dimension "d38" = 17.78
  dimension "d41" = 62.357
  dimension "d42" = 33.02
extrude "Extrusion8" cut sketch "Sketch4" along normal mid plane 254
sketch "Sketch6" plane through (0, -101.6, 0) normal (0, -1, 0) x (1, 0, 0)
  arc A0 (-69.85, -12.7) -> (-12.7, -69.85) centre (4.968, 4.968) ccw projected
  circle A1 centre (0, 0) radius 70.9952
  dimension "d91" = 141.9903
extrude "Extrusion9" add sketch "Sketch6" along normal blind 4.572
sketch "Sketch7" plane through (-12.6879, 0, 69.85) normal (0, 0, 1) x (1, 0, 0)
  line L0 (11.3544, -17.78) -> (14.0214, -17.78)
  line L1 (11.3544, -11.9634) -> (9.7542, -11.9634)
  line L2 (9.7542, -11.9634) -> (9.7542, -9.2964)
  line L3 (9.7542, -9.2964) -> (11.3544, -9.2964)
  line L4 (11.3544, -17.78) -> (11.3544, -11.9634)
  line L5 (11.3544, -9.2964) -> (11.3544, 0)
  line L6 (14.0214, -9.2964) -> (15.6216, -9.2964)
  line L7 (14.0214, -11.9634) -> (15.6216, -11.9634)
  line L8 (15.6216, -11.9634) -> (15.6216, -9.2964)
  line L9 (14.0214, -17.78) -> (14.0214, -11.9634)
  line L10 (14.0214, -9.2964) -> (14.0214, 0)
  line L11 (-0.0121, -50.8) -> (25.3759, -50.8)
  line L12 (11.3544, -83.82) -> (14.0214, -83.82)
  line L13 (11.3544, -89.6366) -> (9.7542, -89.6366)
  line L14 (9.7542, -89.6366) -> (9.7542, -92.3036)
  line L15 (9.7542, -92.3036) -> (11.3544, -92.3036)
  line L16 (11.3544, -83.82) -> (11.3544, -89.6366)
  line L17 (11.3544, -92.3036) -> (11.3544, -101.6)
  line L18 (14.0214, -92.3036) -> (15.6216, -92.3036)
  line L19 (14.0214, -89.6366) -> (15.6216, -89.6366)
  line L20 (15.6216, -89.6366) -> (15.6216, -92.3036)
  line L21 (14.0214, -83.82) -> (14.0214, -89.6366)
  line L22 (14.0214, -92.3036) -> (14.0214, -101.6)
  line L23 (11.3544, 0) -> (14.0214, 0)
  line L24 (11.3544, -101.6) -> (14.0214, -101.6)
  point P0 (12.6879, 0)
  dimension "d106" = 1.6002
  dimension "d107" = 2.667
  dimension "d108" = 1.6002
  dimension "d109" = 9.2964
  dimension "d110" = 9.2964
  dimension "d111" = 1.6002
  dimension "d112" = 2.667
  dimension "d113" = 5.8166
  dimension "d114" = 2.667
extrude "Extrusion10" cut sketch "Sketch7" against normal blind 254
sketch "Sketch8" plane through (0, 4.572, 0) normal (0, 1, 0) x (1, 0, 0)
  circle A0 centre (0, -67.5572) radius 1.3335
  line L0 (-1.3335, -69.85) -> (-1.3335, -65.2644) projected
  circle A1 centre (-67.5572, 0) radius 1.3335
  circle A2 centre (0, 67.5572) radius 1.3335
  circle A3 centre (67.5572, 0) radius 1.3335
  point P0 (0, 0)
extrude "Extrusion11" cut sketch "Sketch8" against normal blind 5.08
sketch "Sketch9" plane through (0, -106.172, 0) normal (0, -1, 0) x (1, 0, 0)
  arc A0 (-67.5572, 1.3335) -> (-67.5572, -1.3335) centre (-67.5572, 0) ccw projected
  circle A1 centre (-67.5572, 0) radius 1.3335
  arc A2 (-1.3335, 67.5572) -> (1.3335, 67.5572) centre (0, 67.5572) ccw projected
  circle A3 centre (0, 67.5572) radius 1.3335
  circle A4 centre (67.5572, 0) radius 1.3335 projected
  circle A5 centre (67.5572, 0) radius 1.3335
  circle A6 centre (0, -67.5572) radius 1.3335 projected
  circle A7 centre (0, -67.5572) radius 1.3335
  point P0 (0, 0)
extrude "Extrusion12" cut sketch "Sketch9" against normal blind 5.08
sketch "Sketch10" plane through (-12.7, -101.6, 69.85) normal (0, 0, 1) x (1, 0, 0)
  line L0 (0, 0) -> (11.3665, 0) projected
  line L1 (0, 101.6) -> (0, 0) projected
  line L2 (0, 0) -> (0, 101.6)
  line L3 (0, 50.8) -> (12.7, 50.8)
  line L4 (15.113, 38.1) -> (10.287, 38.1)
  line L5 (10.287, 38.1) -> (10.287, 63.5)
  line L6 (10.287, 63.5) -> (15.113, 63.5)
  line L7 (15.113, 63.5) -> (15.113, 38.1)
  line L8 (15.113, 38.1) -> (10.287, 63.5) construction
  line L9 (10.287, 38.1) -> (15.113, 63.5) construction
  point P0 (12.7, 101.6)
  dimension "d125" = 4.826
  dimension "d126" = 25.4
extrude "Extrusion13" cut sketch "Sketch10" against normal blind 5.08
properties part number "Cyldr_Motor"
